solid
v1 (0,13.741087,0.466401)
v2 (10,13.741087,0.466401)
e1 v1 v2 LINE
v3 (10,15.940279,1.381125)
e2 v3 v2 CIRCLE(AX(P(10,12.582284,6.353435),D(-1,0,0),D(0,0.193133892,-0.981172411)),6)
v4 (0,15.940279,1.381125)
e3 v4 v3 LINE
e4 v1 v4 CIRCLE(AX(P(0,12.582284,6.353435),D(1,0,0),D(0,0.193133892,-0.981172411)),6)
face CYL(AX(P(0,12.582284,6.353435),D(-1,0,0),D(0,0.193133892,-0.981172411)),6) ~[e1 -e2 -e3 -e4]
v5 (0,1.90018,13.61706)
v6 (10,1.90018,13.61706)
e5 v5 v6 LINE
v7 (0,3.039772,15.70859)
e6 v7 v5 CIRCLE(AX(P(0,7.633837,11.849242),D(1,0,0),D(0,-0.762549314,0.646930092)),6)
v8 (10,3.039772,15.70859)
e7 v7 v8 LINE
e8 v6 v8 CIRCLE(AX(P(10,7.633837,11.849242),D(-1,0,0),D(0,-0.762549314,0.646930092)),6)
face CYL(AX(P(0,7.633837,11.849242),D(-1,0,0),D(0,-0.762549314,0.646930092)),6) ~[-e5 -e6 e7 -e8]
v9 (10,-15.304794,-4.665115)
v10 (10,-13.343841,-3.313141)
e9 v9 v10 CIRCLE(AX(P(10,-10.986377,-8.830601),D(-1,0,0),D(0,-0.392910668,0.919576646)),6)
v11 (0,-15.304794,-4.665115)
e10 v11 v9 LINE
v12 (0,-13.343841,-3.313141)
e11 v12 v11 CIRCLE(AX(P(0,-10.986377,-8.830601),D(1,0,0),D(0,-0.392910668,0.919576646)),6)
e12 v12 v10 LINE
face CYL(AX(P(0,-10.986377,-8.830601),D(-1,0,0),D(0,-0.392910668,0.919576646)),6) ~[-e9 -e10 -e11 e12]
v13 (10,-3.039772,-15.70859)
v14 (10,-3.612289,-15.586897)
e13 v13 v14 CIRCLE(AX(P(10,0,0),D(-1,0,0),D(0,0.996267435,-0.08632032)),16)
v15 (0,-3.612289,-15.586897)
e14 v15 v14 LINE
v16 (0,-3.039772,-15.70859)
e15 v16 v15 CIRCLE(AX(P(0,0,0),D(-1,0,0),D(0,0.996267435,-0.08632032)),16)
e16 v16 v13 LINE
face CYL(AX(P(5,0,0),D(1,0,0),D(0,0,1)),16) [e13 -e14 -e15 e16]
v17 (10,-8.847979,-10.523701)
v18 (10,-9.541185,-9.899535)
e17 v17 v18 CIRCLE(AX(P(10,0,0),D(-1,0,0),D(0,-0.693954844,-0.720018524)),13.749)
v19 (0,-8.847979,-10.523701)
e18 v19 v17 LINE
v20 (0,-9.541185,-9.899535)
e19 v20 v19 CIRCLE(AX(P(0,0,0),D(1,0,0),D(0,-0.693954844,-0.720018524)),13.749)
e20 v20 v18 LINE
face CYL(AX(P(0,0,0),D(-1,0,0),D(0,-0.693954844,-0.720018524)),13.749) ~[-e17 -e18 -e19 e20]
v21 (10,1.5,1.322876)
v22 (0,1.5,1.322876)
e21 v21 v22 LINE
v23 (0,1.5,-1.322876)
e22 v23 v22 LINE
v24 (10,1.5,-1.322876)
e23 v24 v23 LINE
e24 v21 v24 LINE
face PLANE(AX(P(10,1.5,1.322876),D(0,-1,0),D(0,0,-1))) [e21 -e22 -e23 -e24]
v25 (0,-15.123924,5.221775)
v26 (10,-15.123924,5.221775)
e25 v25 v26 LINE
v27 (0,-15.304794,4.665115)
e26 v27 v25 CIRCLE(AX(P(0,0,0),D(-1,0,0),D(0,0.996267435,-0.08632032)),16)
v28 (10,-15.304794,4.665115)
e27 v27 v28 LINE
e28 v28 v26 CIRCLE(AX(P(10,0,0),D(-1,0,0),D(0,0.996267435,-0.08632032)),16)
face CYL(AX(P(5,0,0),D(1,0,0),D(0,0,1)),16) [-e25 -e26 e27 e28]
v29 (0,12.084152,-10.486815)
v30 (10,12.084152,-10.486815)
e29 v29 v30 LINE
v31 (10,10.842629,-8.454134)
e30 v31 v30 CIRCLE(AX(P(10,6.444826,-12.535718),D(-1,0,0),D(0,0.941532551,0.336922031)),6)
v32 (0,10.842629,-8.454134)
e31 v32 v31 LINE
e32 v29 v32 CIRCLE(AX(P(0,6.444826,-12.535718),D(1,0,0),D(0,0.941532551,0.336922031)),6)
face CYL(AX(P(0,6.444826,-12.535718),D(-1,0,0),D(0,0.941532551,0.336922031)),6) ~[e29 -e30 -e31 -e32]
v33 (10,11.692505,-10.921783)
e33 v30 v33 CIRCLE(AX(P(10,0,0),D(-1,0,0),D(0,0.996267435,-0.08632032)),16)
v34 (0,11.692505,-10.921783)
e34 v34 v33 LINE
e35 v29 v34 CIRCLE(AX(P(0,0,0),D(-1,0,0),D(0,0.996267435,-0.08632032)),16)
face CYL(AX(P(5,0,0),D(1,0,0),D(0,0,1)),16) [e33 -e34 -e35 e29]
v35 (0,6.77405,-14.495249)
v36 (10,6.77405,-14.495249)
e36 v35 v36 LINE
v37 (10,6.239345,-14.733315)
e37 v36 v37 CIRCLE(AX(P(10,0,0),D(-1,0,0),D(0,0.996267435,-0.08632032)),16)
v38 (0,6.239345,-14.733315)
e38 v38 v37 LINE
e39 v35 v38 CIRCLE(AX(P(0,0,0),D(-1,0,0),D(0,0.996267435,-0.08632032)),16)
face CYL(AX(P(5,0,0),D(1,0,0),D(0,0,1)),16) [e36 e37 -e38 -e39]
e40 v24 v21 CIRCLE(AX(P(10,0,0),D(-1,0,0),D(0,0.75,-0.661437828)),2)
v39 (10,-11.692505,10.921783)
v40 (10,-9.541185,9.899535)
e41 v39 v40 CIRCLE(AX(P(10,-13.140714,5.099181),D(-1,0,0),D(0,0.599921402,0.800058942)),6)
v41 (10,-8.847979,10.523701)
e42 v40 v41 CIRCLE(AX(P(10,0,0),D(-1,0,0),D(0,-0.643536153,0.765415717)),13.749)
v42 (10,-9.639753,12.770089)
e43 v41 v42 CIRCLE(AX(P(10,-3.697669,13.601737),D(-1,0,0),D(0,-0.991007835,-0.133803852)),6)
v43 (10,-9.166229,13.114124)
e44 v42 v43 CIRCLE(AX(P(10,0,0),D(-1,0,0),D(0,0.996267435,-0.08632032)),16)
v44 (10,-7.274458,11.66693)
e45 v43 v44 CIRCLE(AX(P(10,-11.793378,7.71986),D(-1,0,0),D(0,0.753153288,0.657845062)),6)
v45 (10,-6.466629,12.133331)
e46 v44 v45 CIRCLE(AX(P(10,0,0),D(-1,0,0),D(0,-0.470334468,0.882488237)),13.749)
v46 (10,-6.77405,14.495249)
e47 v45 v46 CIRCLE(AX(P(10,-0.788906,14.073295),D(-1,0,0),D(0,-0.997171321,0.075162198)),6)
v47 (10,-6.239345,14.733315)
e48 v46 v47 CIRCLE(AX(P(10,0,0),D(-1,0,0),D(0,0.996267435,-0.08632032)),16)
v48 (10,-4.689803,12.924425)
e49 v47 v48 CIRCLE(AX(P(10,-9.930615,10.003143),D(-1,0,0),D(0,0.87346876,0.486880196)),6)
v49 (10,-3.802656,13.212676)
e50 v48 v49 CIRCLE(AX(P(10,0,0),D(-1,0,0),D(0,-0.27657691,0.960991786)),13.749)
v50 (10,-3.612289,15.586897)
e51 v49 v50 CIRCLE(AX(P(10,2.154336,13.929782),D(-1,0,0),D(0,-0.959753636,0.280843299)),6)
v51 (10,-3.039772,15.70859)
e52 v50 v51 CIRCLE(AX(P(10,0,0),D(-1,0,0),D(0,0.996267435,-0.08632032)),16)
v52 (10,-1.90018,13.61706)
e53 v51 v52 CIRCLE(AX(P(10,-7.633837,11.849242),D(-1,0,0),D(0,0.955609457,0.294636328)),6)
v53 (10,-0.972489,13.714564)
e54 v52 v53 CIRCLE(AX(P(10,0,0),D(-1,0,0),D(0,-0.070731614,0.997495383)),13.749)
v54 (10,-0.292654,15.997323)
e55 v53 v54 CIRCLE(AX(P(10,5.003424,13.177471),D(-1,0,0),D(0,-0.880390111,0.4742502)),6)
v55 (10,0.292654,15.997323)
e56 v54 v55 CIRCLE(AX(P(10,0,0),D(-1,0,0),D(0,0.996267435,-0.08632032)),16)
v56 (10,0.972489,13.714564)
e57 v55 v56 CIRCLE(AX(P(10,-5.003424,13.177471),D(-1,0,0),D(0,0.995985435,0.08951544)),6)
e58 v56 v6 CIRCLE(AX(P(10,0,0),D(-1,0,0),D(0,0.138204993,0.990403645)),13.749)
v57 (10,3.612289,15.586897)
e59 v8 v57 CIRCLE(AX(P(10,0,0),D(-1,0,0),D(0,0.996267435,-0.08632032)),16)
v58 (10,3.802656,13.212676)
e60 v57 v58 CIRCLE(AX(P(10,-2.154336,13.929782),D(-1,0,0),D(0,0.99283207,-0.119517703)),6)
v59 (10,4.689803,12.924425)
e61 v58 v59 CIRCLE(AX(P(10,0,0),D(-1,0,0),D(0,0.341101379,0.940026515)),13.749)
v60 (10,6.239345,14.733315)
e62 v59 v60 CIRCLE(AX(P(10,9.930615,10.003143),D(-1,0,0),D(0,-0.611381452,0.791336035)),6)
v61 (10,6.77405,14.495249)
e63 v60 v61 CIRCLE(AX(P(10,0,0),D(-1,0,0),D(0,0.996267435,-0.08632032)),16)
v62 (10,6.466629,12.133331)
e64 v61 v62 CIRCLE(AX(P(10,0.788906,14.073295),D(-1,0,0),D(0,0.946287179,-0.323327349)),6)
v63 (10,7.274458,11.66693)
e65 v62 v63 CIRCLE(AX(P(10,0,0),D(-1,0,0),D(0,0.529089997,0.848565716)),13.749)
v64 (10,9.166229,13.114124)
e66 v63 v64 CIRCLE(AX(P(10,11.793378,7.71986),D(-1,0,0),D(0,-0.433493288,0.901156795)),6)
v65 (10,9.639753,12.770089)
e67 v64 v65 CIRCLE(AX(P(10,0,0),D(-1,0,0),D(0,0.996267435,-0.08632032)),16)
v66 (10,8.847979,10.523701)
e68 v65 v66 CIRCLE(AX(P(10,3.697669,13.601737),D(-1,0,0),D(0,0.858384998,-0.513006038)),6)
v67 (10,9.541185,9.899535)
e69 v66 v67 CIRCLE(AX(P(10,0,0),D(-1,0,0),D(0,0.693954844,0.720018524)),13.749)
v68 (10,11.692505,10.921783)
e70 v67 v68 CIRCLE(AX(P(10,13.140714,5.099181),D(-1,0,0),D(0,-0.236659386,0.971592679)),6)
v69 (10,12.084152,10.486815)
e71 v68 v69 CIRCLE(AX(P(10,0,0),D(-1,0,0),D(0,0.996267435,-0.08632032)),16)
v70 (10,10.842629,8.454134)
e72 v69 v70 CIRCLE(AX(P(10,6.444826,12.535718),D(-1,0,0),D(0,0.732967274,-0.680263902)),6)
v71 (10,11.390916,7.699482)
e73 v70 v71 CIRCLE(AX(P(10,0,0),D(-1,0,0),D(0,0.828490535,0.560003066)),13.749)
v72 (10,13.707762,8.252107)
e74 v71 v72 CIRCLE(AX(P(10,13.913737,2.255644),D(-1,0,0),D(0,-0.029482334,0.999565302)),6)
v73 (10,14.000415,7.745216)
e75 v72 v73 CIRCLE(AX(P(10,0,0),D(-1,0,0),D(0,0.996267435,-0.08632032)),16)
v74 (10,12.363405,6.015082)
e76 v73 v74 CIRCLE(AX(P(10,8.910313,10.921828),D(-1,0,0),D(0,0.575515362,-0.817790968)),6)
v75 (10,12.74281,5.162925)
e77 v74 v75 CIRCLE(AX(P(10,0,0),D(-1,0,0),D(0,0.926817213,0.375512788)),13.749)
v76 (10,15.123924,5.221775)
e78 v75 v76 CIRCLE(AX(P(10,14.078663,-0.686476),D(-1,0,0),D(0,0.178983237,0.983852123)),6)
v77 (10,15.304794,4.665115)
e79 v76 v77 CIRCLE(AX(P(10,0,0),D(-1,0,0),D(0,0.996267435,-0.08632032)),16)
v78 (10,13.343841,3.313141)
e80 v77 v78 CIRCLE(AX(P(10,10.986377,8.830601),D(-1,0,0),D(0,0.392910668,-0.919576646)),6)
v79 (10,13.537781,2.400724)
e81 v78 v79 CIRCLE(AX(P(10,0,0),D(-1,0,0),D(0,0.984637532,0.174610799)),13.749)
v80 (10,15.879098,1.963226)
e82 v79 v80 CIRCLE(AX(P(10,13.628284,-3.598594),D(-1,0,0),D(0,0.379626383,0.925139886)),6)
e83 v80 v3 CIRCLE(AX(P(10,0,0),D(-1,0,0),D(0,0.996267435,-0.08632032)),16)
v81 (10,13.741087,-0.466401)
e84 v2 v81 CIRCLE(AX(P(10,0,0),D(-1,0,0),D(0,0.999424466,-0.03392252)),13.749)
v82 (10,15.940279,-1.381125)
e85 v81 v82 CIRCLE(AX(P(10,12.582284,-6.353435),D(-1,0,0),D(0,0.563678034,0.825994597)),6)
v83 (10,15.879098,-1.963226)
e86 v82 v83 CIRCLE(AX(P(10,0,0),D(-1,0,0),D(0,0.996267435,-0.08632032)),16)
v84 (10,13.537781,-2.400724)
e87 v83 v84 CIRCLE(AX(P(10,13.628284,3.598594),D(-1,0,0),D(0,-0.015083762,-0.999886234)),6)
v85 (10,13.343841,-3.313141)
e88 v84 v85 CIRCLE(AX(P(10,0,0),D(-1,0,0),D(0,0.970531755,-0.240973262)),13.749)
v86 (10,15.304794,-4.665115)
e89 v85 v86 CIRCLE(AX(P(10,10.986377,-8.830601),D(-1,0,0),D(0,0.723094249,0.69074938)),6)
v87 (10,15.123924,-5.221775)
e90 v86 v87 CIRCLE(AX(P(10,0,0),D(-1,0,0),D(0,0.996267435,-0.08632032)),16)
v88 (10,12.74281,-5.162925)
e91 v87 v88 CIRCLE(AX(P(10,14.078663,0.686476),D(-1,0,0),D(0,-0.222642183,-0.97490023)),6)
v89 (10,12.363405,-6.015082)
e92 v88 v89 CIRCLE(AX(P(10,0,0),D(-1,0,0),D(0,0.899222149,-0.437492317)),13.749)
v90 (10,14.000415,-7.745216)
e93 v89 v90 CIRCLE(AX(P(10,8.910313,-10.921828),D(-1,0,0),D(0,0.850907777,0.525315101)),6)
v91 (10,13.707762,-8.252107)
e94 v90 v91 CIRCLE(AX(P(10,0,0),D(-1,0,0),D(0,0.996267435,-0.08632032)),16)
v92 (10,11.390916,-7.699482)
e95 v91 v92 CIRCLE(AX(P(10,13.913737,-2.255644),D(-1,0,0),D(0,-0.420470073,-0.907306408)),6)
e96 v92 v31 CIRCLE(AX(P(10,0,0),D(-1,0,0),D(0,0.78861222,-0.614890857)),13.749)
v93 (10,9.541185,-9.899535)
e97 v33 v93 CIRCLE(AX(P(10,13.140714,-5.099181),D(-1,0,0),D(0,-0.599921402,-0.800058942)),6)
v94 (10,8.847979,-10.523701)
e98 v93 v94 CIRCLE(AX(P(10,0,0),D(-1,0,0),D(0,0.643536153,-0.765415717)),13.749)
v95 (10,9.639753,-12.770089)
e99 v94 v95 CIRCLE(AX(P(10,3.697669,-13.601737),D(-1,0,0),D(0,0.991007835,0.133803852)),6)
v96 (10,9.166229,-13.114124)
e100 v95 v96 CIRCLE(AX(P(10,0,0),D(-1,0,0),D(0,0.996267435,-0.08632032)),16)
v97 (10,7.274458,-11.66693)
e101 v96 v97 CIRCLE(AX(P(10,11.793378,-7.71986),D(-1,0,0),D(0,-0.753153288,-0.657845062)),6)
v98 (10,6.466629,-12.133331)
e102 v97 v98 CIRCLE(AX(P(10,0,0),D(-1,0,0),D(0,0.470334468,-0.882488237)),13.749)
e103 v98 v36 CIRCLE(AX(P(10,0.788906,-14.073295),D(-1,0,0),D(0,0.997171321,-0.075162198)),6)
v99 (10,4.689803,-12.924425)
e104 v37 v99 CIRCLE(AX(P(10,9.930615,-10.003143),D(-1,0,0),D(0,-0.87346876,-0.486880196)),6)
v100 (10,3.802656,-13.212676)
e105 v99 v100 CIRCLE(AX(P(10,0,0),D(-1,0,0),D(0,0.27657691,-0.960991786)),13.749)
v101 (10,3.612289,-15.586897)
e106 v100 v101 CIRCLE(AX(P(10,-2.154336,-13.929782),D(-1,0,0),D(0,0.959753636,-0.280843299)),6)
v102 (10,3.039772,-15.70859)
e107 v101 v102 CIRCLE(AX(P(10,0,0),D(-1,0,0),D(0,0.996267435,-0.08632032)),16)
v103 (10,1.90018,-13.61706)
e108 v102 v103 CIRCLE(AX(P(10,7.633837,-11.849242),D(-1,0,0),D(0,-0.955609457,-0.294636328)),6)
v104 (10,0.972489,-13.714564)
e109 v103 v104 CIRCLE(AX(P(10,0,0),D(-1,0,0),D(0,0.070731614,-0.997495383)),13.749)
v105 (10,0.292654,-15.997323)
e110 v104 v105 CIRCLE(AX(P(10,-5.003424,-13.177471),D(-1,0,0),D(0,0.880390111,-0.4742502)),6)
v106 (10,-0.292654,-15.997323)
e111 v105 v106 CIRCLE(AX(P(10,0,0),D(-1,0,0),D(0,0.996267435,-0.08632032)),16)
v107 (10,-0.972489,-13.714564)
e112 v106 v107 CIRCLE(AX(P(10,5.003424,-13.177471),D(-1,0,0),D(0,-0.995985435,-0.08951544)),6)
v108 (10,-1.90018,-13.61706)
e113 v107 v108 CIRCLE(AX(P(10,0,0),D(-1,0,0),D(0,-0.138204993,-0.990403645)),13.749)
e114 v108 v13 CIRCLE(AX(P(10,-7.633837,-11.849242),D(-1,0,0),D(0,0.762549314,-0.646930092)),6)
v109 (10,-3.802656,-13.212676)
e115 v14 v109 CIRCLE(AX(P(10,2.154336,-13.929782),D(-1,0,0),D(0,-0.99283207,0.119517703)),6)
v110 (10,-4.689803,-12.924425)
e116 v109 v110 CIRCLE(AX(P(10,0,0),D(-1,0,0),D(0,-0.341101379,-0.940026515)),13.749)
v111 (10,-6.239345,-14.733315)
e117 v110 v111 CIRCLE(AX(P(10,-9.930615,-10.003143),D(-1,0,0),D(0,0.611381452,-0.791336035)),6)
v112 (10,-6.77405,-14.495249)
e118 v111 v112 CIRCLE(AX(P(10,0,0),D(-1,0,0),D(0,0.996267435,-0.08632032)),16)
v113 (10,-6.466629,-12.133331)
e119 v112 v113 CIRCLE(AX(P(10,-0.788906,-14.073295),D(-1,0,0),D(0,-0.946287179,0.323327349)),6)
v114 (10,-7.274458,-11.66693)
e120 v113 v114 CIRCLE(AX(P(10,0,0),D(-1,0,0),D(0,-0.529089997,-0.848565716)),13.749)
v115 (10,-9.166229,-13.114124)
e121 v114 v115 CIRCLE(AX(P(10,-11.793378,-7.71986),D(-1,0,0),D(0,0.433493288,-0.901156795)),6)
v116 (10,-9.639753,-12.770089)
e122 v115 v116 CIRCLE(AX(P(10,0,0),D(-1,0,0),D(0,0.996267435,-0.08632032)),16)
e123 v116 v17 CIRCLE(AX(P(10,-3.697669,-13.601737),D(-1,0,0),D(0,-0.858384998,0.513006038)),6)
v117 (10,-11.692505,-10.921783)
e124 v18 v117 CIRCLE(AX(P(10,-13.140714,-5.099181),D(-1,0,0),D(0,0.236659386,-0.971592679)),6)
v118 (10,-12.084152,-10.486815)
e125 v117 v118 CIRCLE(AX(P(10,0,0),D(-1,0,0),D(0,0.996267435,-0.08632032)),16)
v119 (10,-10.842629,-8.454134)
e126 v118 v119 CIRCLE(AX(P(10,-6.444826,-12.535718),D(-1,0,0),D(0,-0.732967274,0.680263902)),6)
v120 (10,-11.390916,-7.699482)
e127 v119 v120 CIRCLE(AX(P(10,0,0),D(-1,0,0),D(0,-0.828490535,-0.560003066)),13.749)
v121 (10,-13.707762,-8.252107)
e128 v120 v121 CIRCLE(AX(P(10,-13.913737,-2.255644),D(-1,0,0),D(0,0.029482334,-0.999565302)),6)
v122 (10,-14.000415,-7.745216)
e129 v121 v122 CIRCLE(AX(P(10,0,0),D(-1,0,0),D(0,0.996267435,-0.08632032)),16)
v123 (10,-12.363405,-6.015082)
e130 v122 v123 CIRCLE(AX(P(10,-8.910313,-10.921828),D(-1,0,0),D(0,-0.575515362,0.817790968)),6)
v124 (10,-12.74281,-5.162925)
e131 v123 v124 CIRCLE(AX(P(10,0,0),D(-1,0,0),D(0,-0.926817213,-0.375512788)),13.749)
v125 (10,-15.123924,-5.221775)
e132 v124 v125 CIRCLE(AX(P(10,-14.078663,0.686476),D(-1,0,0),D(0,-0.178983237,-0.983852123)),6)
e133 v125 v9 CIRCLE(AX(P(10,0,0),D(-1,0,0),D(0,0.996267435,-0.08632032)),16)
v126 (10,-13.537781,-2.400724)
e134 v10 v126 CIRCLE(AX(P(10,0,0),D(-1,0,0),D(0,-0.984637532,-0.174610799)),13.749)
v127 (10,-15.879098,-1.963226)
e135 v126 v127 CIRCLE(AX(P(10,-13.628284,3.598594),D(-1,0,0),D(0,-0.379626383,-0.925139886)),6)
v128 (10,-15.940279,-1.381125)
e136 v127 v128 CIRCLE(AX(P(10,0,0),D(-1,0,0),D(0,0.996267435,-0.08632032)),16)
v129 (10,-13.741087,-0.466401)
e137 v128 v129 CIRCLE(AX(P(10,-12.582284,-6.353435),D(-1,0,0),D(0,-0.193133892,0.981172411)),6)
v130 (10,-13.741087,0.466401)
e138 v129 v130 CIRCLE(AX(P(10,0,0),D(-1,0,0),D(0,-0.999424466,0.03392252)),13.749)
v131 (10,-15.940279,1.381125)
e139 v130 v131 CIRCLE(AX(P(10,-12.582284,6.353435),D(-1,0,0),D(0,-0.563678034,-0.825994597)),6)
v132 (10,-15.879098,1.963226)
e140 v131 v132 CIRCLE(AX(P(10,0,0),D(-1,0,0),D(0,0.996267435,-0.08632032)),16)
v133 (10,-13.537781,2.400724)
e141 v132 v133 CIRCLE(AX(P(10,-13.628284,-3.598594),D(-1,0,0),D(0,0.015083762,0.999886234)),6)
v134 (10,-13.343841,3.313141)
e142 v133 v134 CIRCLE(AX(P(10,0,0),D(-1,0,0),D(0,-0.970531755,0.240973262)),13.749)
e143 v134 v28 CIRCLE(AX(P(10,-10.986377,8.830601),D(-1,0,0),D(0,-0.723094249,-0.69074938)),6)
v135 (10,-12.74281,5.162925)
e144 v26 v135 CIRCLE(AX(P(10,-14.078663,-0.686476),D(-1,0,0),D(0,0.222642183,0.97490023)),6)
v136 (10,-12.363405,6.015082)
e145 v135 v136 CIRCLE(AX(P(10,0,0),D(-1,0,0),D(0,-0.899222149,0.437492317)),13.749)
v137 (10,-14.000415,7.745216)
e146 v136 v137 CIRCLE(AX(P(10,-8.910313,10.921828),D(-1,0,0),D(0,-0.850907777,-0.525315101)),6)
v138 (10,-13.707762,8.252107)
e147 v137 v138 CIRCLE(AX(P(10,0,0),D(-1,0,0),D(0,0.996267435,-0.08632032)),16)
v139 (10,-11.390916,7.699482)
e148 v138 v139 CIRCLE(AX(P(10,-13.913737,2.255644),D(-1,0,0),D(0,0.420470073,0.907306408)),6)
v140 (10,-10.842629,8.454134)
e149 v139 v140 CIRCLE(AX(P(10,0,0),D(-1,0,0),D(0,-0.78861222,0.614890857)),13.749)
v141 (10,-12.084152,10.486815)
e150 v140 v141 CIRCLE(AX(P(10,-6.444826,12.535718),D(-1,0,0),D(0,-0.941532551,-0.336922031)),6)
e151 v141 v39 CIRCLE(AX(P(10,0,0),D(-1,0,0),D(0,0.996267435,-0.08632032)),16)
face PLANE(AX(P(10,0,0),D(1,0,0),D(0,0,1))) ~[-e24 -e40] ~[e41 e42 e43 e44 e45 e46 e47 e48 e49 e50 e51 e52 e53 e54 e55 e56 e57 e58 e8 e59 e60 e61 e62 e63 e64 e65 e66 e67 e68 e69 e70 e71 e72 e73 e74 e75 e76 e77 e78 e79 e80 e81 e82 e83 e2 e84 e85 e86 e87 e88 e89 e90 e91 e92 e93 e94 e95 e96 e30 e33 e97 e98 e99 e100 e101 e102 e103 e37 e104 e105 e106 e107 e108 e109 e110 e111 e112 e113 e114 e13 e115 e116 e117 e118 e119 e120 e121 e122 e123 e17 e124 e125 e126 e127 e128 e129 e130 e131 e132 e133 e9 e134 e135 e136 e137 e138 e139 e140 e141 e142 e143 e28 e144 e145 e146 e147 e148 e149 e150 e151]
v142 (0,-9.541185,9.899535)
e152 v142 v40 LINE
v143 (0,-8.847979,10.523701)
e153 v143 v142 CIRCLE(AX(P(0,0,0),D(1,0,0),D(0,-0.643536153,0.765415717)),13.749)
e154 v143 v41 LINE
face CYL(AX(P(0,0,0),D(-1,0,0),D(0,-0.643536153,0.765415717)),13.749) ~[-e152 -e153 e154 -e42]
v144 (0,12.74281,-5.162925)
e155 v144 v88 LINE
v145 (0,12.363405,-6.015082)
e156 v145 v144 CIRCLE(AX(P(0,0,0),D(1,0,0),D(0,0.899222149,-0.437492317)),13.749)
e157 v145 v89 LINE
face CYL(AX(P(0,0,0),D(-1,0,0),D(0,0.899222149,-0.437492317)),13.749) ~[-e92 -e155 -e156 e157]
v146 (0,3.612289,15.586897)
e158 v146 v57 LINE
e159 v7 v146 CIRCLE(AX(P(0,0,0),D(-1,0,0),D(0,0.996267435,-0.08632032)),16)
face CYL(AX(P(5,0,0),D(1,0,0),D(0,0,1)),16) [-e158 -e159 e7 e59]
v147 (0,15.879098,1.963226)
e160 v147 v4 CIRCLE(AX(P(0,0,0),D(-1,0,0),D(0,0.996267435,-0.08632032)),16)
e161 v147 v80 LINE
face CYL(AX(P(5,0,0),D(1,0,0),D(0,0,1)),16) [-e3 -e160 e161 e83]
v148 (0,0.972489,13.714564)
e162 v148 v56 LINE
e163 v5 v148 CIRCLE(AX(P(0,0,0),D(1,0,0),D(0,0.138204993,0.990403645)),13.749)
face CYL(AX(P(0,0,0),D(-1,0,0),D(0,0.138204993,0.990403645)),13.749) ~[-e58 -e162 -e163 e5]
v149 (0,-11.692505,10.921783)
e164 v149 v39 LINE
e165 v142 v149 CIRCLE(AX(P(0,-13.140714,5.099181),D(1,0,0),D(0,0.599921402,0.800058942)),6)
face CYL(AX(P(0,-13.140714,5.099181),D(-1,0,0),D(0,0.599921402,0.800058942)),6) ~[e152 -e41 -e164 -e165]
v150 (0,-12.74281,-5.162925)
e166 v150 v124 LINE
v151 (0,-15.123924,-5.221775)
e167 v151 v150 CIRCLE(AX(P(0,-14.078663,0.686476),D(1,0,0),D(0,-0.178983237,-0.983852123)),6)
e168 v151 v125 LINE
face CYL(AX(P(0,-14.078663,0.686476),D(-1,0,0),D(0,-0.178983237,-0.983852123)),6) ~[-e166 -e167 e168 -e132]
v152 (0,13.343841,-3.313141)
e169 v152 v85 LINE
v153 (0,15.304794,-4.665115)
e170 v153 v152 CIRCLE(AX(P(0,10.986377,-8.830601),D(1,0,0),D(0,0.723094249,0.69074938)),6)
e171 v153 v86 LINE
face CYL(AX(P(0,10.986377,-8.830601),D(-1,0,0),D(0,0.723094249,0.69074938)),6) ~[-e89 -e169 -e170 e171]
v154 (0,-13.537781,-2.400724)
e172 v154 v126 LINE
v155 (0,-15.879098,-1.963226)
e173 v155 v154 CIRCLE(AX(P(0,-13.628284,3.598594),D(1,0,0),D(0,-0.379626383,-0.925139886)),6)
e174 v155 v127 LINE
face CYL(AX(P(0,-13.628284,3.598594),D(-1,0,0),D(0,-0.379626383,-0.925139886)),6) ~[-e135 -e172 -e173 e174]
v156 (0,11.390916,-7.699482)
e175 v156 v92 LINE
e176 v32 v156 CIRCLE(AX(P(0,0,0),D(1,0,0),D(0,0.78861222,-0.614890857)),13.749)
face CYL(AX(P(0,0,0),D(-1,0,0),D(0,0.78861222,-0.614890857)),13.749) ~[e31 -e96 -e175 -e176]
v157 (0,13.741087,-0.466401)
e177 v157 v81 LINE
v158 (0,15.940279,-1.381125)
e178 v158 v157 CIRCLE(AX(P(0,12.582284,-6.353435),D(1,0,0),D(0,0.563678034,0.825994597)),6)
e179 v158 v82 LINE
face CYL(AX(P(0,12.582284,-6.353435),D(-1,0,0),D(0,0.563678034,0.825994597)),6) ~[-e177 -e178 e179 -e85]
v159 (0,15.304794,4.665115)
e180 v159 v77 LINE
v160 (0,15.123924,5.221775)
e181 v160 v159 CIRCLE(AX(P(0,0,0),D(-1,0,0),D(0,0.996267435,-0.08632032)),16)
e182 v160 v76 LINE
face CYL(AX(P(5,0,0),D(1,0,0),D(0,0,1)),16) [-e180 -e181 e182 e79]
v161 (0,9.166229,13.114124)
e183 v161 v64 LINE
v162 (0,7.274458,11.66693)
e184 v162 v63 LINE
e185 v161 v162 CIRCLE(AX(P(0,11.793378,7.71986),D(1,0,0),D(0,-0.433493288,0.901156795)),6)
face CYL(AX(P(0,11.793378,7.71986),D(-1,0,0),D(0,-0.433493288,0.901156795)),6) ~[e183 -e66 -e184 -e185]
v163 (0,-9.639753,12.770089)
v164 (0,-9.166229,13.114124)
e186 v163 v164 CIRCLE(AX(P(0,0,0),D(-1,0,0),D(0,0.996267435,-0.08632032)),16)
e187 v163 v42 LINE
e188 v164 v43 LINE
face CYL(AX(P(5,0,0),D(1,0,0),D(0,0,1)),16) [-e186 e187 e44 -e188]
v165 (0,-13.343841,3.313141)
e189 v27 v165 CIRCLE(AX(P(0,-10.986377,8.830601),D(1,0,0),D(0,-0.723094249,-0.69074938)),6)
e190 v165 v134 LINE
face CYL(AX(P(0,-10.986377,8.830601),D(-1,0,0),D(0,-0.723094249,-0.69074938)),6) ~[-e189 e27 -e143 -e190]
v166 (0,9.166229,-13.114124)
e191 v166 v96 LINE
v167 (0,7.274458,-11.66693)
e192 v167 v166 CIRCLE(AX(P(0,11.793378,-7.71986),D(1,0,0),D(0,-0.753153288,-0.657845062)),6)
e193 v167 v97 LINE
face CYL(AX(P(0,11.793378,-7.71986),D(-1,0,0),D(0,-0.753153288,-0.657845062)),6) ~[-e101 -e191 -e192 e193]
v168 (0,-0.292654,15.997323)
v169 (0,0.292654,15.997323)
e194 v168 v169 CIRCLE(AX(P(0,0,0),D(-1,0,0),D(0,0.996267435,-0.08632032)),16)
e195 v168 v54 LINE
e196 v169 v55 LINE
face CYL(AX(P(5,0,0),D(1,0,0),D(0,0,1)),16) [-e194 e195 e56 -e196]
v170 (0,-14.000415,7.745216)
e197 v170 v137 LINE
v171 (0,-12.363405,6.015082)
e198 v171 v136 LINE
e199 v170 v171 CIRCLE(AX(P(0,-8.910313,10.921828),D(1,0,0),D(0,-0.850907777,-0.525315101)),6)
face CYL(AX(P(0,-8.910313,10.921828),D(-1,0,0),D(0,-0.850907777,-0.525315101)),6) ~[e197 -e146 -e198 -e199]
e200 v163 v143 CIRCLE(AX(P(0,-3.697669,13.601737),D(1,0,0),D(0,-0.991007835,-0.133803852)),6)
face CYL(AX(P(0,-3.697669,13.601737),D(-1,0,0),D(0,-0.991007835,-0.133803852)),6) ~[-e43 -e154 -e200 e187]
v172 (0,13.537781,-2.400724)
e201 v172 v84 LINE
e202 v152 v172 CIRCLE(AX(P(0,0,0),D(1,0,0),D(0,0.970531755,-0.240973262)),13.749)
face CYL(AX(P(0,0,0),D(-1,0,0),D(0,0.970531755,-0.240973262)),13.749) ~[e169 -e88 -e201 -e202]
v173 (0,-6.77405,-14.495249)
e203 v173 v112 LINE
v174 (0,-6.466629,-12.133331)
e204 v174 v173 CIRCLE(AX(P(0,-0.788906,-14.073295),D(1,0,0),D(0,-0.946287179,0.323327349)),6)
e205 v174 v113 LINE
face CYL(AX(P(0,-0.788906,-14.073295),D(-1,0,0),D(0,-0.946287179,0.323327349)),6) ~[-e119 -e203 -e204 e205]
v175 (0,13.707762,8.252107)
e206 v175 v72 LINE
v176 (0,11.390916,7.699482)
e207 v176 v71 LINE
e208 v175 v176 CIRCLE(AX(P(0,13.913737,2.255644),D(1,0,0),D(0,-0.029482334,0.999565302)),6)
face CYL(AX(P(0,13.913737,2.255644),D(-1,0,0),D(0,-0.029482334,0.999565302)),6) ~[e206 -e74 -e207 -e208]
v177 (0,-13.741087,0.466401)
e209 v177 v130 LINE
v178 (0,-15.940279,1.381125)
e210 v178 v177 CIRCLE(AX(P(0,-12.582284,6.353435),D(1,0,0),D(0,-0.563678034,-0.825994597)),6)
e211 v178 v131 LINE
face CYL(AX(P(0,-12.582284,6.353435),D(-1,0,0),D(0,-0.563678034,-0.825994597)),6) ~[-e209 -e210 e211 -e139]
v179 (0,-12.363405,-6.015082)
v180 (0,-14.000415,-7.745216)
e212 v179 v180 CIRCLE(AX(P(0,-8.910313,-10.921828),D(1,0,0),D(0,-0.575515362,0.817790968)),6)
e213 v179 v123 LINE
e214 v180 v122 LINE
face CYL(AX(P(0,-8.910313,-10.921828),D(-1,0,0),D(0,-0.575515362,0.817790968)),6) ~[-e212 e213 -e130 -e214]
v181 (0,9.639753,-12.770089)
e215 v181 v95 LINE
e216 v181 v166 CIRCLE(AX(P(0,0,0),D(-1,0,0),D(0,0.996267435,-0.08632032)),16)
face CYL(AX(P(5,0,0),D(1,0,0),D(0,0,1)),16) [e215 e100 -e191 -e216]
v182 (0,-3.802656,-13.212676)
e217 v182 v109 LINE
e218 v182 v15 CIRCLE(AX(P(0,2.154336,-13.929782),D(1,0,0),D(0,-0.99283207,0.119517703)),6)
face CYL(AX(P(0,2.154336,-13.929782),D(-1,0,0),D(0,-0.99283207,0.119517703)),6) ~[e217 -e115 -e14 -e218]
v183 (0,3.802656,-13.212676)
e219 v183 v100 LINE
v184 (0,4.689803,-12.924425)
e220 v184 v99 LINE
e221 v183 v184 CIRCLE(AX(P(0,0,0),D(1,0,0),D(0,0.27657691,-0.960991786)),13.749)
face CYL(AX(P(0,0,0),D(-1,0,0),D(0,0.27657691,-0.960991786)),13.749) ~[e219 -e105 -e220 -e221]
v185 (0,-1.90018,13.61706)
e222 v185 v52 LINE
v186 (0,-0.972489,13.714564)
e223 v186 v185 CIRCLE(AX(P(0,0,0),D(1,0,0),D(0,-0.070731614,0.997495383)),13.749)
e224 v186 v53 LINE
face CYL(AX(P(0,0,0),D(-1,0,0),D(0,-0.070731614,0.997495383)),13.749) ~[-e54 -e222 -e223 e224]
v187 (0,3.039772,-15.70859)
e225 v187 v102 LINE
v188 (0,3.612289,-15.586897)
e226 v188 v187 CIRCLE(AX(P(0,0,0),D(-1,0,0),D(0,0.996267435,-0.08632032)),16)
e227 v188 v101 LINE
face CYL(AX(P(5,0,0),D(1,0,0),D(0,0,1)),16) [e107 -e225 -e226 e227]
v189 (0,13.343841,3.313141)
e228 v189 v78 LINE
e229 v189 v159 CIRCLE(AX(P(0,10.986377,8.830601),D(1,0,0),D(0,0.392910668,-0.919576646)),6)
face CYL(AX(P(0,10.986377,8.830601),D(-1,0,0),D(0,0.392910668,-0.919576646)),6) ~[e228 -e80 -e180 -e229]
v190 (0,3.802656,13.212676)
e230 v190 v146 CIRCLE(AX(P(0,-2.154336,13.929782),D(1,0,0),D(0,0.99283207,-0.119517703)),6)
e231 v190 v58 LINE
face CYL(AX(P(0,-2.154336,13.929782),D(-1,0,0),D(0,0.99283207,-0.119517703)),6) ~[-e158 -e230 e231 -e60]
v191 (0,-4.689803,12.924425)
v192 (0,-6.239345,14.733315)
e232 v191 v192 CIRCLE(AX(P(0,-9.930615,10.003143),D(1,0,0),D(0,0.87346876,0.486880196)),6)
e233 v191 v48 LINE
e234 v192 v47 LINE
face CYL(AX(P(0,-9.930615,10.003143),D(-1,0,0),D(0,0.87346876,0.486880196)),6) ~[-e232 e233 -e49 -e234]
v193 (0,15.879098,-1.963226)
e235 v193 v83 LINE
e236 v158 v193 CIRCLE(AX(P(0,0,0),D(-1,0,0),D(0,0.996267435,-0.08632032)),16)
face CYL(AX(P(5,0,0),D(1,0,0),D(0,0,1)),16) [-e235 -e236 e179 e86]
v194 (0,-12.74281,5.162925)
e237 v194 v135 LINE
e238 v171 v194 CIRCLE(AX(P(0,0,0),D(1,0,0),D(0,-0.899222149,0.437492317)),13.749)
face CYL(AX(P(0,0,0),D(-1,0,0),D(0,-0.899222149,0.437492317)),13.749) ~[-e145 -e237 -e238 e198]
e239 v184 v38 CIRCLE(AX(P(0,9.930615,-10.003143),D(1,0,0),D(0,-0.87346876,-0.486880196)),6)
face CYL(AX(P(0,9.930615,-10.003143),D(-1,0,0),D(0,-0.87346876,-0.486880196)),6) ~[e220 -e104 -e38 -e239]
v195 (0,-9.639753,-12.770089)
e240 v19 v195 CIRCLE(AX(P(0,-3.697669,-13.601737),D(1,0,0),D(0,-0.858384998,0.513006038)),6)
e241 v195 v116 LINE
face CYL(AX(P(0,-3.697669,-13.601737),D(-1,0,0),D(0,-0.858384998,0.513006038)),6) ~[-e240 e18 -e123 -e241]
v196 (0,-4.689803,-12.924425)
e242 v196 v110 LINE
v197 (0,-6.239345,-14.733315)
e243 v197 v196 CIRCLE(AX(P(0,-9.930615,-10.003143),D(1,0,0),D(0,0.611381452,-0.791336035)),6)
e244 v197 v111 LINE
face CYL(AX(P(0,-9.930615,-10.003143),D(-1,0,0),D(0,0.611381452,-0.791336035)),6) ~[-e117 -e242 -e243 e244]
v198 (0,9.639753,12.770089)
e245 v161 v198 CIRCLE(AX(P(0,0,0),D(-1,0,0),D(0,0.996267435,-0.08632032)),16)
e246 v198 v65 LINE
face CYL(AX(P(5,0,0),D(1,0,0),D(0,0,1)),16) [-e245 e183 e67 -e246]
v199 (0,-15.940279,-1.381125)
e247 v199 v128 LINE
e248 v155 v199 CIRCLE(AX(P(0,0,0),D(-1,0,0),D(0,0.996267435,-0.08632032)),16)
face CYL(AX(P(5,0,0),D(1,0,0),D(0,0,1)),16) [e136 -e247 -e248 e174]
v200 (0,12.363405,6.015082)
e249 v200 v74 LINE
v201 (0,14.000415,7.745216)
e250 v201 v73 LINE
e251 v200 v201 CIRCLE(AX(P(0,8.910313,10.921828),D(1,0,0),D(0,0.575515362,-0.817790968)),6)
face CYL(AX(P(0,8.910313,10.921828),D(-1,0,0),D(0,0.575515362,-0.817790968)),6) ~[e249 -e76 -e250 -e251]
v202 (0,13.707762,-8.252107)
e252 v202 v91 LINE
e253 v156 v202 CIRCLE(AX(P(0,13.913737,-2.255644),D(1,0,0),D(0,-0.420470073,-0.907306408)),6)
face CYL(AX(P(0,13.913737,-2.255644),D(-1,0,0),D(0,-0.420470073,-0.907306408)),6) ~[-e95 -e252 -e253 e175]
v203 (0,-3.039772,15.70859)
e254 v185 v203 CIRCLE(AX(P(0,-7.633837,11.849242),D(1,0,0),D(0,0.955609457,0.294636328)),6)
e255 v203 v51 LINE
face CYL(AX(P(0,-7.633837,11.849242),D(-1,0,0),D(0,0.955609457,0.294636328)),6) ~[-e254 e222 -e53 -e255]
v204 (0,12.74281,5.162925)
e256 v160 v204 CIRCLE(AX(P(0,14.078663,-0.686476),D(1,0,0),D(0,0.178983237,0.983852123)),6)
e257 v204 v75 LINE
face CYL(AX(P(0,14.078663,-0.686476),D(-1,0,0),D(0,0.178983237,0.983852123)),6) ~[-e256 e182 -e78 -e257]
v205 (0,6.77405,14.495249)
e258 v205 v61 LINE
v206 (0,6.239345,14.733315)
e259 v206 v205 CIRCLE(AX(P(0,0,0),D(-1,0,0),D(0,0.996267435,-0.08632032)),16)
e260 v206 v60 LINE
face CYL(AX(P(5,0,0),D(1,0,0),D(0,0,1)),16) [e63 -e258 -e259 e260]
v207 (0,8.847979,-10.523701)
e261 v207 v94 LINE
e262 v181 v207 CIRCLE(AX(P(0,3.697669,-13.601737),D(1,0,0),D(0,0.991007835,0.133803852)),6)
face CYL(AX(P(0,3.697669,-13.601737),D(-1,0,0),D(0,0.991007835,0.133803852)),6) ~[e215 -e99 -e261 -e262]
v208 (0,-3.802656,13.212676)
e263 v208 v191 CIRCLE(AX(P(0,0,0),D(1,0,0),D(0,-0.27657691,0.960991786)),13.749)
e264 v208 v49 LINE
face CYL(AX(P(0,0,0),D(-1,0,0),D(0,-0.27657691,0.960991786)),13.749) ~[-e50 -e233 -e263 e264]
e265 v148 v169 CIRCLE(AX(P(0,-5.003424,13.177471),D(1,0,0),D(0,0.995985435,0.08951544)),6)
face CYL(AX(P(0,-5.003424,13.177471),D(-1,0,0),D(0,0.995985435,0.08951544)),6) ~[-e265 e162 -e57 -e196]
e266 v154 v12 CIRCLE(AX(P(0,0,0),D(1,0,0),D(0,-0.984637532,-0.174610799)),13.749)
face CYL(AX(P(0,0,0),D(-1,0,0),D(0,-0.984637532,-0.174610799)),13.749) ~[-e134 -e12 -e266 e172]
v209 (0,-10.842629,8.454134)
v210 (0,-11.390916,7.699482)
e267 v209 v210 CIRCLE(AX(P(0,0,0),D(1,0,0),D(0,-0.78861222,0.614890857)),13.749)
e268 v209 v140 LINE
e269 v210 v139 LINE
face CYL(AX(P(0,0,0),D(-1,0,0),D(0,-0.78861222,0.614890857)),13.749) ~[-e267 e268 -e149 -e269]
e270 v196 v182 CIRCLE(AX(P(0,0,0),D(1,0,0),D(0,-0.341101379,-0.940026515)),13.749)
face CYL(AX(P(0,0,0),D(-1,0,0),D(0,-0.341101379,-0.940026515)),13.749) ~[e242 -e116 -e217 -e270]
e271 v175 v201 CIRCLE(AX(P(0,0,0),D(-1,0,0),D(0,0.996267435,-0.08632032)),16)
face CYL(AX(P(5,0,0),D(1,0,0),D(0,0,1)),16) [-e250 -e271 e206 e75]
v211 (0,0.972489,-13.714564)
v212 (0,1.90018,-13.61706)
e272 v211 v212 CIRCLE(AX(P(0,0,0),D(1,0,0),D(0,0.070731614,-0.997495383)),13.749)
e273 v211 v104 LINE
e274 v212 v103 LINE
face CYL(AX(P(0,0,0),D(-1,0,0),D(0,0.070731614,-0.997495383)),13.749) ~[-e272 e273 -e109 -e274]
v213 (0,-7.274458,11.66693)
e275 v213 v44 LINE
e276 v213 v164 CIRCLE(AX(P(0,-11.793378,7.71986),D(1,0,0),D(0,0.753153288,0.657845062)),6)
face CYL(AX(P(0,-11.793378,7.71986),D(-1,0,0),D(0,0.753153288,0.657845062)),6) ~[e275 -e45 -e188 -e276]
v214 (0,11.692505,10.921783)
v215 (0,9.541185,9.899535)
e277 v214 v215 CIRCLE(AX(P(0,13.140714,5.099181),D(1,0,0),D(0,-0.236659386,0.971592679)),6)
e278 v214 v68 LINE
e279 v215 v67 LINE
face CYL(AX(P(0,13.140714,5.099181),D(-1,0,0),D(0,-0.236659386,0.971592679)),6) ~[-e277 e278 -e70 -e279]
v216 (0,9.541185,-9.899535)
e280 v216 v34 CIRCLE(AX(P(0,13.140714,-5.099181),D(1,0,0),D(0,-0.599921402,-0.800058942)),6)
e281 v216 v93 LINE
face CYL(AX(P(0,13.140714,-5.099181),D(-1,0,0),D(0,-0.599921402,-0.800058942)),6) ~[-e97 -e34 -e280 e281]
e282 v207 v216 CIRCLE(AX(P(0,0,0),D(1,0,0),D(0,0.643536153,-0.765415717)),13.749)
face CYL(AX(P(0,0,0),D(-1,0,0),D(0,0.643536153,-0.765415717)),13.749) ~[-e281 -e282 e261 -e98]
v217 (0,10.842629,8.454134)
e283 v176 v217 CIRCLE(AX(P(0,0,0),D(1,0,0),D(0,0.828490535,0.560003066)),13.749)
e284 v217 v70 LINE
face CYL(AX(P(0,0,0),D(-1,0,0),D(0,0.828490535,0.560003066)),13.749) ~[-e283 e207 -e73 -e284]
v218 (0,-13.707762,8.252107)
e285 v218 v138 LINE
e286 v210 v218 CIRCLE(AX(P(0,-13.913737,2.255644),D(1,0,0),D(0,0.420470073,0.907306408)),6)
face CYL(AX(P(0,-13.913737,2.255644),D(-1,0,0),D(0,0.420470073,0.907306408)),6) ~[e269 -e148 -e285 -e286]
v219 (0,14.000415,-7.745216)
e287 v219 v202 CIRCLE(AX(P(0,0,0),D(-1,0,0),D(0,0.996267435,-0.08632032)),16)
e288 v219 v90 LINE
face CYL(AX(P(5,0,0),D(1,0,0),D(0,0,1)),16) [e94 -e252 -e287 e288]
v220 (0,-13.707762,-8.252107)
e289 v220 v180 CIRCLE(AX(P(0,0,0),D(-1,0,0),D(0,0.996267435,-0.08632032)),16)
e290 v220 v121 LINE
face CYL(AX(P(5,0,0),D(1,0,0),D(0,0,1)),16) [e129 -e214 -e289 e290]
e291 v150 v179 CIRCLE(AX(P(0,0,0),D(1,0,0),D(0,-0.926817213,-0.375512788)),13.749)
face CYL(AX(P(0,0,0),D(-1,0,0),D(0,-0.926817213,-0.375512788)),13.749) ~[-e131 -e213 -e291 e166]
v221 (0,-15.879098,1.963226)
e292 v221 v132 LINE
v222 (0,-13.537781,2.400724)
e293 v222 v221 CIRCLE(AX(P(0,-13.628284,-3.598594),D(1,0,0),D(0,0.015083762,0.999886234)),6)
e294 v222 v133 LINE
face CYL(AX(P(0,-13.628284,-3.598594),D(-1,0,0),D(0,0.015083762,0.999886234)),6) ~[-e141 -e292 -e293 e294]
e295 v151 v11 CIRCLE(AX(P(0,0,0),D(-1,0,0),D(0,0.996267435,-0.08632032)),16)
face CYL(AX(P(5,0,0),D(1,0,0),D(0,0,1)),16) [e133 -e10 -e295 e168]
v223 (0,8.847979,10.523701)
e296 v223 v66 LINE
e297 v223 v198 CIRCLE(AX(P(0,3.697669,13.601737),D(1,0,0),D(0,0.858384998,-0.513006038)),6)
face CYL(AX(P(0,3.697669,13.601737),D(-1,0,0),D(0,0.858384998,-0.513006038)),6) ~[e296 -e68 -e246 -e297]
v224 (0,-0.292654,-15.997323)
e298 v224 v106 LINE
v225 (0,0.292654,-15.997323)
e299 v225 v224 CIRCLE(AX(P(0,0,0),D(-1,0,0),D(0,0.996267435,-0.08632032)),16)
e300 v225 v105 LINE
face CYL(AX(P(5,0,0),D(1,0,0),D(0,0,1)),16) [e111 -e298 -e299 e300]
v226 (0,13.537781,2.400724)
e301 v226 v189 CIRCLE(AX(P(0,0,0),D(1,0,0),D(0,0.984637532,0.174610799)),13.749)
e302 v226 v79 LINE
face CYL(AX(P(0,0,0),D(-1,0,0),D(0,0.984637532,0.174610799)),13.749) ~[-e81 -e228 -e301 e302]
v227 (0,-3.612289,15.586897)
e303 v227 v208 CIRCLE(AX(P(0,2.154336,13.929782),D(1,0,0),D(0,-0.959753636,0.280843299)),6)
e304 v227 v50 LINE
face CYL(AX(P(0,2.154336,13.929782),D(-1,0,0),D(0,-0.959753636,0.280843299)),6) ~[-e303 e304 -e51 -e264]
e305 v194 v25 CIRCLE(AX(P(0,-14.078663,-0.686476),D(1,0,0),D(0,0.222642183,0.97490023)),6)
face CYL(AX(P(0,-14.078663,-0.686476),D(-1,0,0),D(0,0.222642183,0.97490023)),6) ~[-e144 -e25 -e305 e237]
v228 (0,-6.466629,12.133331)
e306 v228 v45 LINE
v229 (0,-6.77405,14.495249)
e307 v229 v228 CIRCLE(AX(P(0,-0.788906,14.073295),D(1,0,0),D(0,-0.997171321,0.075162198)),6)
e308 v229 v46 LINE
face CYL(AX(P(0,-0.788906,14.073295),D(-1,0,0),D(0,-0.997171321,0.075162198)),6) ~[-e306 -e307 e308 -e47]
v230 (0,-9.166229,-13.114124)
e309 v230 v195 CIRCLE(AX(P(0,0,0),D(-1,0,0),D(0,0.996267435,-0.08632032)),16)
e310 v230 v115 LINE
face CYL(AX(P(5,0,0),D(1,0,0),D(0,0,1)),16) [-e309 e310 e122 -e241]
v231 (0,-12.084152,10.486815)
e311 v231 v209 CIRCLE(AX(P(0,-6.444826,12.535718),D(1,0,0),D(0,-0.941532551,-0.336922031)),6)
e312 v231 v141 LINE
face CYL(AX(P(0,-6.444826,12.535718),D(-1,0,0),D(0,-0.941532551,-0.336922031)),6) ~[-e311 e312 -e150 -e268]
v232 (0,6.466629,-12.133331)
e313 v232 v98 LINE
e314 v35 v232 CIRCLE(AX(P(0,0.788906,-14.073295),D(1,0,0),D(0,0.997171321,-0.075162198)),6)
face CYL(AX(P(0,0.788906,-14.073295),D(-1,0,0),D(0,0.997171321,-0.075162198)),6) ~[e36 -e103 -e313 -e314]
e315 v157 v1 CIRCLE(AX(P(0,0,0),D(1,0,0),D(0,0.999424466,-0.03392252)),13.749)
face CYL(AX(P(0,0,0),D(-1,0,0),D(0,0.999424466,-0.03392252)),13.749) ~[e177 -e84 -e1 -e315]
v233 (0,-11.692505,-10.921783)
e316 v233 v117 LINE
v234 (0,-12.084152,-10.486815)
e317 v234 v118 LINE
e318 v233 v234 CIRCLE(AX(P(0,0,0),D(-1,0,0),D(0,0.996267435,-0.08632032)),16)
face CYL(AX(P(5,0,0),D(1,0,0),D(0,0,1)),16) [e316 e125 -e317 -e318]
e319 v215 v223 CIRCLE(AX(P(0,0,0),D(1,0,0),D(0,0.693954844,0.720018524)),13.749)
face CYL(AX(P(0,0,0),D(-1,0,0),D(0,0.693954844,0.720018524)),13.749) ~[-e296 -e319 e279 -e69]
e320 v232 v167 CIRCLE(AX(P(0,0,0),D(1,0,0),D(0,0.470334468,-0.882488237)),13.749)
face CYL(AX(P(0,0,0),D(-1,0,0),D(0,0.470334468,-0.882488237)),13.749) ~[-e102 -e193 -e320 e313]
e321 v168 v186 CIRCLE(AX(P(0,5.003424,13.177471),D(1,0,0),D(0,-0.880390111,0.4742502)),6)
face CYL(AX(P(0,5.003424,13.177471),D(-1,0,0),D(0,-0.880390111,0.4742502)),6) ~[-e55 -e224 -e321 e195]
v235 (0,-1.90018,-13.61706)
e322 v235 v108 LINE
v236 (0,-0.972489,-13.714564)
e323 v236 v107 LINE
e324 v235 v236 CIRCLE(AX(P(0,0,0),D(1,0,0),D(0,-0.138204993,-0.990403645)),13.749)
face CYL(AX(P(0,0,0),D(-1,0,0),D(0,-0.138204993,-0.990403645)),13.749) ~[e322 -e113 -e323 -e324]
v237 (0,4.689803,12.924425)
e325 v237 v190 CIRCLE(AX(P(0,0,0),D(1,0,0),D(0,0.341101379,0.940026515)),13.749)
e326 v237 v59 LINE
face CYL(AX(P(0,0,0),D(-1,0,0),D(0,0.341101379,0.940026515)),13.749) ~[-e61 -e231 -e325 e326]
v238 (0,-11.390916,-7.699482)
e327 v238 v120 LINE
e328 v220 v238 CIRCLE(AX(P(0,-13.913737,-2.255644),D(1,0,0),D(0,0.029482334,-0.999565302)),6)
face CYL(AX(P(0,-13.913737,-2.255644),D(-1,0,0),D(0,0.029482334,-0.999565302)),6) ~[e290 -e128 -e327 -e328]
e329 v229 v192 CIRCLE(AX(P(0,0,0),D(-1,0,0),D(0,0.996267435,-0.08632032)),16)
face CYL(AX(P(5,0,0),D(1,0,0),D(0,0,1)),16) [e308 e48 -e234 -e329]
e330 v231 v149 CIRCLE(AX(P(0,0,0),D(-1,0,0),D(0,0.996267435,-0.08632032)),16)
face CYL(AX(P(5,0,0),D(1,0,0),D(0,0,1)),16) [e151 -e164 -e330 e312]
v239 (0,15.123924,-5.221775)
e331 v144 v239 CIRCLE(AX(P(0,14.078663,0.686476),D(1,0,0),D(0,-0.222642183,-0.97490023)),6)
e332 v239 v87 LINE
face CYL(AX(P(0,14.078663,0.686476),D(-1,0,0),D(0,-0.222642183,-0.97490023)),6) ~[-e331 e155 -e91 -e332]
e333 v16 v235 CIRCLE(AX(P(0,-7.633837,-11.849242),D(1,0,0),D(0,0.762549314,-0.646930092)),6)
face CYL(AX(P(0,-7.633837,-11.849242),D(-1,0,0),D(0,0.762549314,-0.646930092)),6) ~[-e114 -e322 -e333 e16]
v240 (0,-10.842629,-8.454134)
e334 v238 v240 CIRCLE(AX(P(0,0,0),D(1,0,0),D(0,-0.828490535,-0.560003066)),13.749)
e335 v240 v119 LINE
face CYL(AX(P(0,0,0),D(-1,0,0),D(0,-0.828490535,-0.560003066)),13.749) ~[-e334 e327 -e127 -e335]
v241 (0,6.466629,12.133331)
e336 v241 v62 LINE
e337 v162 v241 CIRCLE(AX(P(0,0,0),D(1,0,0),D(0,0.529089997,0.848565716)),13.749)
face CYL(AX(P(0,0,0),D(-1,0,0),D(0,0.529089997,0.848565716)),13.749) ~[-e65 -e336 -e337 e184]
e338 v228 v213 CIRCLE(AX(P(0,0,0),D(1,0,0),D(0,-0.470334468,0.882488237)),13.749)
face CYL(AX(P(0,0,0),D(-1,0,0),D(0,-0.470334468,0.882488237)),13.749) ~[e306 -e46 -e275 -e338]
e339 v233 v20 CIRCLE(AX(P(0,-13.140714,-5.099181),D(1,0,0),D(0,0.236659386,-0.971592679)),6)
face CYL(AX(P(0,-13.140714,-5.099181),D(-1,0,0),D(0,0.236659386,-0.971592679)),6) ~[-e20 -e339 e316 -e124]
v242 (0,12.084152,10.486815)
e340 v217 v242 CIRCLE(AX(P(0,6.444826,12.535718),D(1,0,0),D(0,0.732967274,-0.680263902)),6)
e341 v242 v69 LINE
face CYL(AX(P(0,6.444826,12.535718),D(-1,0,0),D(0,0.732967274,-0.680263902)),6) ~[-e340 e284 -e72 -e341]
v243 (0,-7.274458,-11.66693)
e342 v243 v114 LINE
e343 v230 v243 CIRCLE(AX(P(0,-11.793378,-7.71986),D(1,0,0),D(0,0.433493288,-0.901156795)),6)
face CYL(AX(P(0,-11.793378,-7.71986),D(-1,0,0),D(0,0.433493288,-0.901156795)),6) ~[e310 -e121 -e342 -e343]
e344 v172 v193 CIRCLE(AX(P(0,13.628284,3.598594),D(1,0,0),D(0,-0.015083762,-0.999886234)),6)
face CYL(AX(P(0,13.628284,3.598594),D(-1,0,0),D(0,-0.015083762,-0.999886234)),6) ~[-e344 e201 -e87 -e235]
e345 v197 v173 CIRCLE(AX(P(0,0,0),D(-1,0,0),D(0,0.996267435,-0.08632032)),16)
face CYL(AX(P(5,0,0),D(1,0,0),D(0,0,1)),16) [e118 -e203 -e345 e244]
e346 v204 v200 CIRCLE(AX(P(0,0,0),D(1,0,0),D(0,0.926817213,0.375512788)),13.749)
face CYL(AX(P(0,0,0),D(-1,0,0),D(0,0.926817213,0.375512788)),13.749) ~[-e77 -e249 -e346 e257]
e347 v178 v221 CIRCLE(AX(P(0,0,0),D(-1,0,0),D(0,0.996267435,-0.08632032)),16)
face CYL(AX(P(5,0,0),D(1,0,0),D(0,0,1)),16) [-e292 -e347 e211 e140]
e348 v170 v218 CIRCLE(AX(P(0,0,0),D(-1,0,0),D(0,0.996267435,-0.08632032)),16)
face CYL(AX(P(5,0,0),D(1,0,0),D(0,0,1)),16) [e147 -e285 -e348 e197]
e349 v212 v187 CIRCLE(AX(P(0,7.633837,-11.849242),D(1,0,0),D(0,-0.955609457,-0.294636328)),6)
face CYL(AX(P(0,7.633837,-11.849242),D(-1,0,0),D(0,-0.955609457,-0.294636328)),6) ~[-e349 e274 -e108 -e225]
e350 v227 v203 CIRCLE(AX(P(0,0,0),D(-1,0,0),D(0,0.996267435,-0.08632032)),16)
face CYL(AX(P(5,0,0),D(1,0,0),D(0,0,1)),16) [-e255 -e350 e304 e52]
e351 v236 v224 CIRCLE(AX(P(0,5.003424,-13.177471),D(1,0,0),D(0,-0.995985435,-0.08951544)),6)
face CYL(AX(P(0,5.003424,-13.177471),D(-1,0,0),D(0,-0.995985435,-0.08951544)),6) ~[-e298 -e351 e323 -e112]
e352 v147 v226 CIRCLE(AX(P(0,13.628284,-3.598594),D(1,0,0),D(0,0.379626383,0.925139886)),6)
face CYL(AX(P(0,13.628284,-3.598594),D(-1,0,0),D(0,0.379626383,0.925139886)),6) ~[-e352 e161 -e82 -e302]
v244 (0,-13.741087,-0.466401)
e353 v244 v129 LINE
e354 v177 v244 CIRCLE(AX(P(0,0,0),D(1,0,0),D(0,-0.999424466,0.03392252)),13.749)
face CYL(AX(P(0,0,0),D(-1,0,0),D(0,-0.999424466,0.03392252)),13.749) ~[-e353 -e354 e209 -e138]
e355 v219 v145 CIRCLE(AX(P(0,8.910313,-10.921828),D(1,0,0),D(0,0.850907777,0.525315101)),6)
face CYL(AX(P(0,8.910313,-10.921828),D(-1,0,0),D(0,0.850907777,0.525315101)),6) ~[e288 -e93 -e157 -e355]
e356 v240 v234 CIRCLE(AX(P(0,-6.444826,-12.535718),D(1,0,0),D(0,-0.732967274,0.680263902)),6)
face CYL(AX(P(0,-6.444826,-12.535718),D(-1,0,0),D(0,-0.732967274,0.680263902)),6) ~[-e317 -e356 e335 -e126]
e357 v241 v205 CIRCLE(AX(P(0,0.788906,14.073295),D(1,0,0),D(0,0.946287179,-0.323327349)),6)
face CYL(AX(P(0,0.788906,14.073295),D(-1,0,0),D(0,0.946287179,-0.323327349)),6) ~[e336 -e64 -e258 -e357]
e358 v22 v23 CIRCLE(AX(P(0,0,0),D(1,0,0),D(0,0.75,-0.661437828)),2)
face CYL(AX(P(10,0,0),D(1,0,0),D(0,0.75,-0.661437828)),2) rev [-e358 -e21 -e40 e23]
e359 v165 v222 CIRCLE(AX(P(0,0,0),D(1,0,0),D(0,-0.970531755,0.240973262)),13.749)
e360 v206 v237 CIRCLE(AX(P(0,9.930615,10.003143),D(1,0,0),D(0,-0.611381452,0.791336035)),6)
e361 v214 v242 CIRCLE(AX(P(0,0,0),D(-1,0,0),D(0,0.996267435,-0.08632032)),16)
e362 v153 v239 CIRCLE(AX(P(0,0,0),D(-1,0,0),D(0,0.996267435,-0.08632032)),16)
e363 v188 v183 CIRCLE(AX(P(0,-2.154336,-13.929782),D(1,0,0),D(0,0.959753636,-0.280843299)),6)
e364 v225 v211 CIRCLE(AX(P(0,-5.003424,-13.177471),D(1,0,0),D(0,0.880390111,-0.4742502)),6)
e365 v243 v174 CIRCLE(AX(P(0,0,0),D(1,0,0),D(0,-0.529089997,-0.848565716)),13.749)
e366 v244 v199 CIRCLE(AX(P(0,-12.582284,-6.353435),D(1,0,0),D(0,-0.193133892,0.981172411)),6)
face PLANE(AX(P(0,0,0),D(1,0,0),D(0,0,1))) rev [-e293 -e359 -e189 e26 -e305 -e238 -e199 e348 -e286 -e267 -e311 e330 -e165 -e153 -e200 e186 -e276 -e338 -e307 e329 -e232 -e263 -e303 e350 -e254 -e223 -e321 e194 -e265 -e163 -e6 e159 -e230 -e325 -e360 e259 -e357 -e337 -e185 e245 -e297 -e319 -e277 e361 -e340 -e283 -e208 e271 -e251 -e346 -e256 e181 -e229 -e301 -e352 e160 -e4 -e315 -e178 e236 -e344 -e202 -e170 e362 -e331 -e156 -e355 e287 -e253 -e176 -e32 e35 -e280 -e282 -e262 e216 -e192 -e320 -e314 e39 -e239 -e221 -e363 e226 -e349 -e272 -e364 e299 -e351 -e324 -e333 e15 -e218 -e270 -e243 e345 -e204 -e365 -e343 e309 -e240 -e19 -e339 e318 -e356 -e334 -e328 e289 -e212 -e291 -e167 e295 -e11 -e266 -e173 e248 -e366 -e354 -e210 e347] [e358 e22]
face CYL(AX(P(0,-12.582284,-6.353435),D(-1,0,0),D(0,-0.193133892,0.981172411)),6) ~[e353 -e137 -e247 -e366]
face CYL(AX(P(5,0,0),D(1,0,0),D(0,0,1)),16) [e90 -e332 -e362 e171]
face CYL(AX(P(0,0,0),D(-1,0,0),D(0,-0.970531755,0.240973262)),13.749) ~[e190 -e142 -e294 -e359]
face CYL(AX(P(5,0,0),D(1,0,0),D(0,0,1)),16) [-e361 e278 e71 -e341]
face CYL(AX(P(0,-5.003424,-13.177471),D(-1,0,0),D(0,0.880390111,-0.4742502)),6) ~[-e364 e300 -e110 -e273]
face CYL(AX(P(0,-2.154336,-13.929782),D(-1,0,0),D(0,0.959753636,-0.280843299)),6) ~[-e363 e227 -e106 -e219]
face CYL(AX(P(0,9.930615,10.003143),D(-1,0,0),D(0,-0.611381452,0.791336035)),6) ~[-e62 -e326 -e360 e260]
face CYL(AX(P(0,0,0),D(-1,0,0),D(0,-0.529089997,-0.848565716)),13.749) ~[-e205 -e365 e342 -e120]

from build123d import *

# Parameters (mm, degrees)
BASPROSKE_W        = 10
BASPROSKE_H        = 16
TOOTHCUT_DEPTH     = 25.738633754
TEETHCUTS_COUNT    = 30
TEETHCUTS_ANGLE    = 348
BORSKE_R           = 0.4
BORE_DEPTH         = 50.0000508
CUT_EXTRUDE1_DEPTH = 25.700050474


with BuildPart() as part:
    # BasProSke → Base-Revolve (revolve)
    with BuildSketch(Plane(origin=(0, 0, 0), x_dir=(1, 0, 0), z_dir=(0, 1, 0)), mode=Mode.PRIVATE) as base_revolve_sk:
        with Locations((5, 8)):
            Rectangle(BASPROSKE_W, BASPROSKE_H)
    revolve(base_revolve_sk.sketch.rotate(Axis((-10, 0, 0), (1, 0, 0)), 180), axis=Axis((-10, 0, 0), (1, 0, 0)))

    # TooCutSke → ToothCut (cut, through all)
    with BuildSketch(Plane(origin=(0, 0, 0), x_dir=(0, 0, -1), z_dir=(1, 0, 0))):
        with BuildLine():
            ThreePointArc((0.466400716, 13.741086979), (0, 13.749), (-0.466400716, 13.741086979))
            ThreePointArc((-0.466400716, 13.741086979), (-0.819142092, 14.899954875), (-1.3974676, 15.964351834))
            ThreePointArc((-1.3974676, 15.964351834), (0, 16.0254), (1.3974676, 15.964351834))
            ThreePointArc((1.3974676, 15.964351834), (0.819142092, 14.899954875), (0.466400716, 13.741086979))
        make_face()
    toothcut = extrude(amount=TOOTHCUT_DEPTH, mode=Mode.SUBTRACT)

    # TeethCuts: ToothCut ×30 about axis
    teethcuts_axis = Axis((-10, 0, 0), (1, 0, 0))
    for i in range(1, TEETHCUTS_COUNT):
        add(toothcut.rotate(teethcuts_axis, i * TEETHCUTS_ANGLE / (TEETHCUTS_COUNT - 1)), mode=Mode.SUBTRACT)

    # BorSke → Bore (cut, symmetric)
    with BuildSketch(Plane(origin=(0, 0, 0), x_dir=(0, 0, -1), z_dir=(1, 0, 0))):
        with Locations(Location((0, 0, 0), (0, 0, 180))):
            Circle(BORSKE_R)
    extrude(amount=BORE_DEPTH, both=True, mode=Mode.SUBTRACT)

    # Sketch1 → Cut-Extrude1 (cut, through all)
    with BuildSketch(Plane(origin=(10, 0, 0), x_dir=(0, 0, -1), z_dir=(1, 0, 0))):
        with BuildLine():
            Line((-1.322875656, 1.5), (1.322875656, 1.5))
            ThreePointArc((1.322875656, 1.5), (0, -2), (-1.322875656, 1.5))
        make_face()
    extrude(amount=-CUT_EXTRUDE1_DEPTH, mode=Mode.SUBTRACT)


solid = part.part
